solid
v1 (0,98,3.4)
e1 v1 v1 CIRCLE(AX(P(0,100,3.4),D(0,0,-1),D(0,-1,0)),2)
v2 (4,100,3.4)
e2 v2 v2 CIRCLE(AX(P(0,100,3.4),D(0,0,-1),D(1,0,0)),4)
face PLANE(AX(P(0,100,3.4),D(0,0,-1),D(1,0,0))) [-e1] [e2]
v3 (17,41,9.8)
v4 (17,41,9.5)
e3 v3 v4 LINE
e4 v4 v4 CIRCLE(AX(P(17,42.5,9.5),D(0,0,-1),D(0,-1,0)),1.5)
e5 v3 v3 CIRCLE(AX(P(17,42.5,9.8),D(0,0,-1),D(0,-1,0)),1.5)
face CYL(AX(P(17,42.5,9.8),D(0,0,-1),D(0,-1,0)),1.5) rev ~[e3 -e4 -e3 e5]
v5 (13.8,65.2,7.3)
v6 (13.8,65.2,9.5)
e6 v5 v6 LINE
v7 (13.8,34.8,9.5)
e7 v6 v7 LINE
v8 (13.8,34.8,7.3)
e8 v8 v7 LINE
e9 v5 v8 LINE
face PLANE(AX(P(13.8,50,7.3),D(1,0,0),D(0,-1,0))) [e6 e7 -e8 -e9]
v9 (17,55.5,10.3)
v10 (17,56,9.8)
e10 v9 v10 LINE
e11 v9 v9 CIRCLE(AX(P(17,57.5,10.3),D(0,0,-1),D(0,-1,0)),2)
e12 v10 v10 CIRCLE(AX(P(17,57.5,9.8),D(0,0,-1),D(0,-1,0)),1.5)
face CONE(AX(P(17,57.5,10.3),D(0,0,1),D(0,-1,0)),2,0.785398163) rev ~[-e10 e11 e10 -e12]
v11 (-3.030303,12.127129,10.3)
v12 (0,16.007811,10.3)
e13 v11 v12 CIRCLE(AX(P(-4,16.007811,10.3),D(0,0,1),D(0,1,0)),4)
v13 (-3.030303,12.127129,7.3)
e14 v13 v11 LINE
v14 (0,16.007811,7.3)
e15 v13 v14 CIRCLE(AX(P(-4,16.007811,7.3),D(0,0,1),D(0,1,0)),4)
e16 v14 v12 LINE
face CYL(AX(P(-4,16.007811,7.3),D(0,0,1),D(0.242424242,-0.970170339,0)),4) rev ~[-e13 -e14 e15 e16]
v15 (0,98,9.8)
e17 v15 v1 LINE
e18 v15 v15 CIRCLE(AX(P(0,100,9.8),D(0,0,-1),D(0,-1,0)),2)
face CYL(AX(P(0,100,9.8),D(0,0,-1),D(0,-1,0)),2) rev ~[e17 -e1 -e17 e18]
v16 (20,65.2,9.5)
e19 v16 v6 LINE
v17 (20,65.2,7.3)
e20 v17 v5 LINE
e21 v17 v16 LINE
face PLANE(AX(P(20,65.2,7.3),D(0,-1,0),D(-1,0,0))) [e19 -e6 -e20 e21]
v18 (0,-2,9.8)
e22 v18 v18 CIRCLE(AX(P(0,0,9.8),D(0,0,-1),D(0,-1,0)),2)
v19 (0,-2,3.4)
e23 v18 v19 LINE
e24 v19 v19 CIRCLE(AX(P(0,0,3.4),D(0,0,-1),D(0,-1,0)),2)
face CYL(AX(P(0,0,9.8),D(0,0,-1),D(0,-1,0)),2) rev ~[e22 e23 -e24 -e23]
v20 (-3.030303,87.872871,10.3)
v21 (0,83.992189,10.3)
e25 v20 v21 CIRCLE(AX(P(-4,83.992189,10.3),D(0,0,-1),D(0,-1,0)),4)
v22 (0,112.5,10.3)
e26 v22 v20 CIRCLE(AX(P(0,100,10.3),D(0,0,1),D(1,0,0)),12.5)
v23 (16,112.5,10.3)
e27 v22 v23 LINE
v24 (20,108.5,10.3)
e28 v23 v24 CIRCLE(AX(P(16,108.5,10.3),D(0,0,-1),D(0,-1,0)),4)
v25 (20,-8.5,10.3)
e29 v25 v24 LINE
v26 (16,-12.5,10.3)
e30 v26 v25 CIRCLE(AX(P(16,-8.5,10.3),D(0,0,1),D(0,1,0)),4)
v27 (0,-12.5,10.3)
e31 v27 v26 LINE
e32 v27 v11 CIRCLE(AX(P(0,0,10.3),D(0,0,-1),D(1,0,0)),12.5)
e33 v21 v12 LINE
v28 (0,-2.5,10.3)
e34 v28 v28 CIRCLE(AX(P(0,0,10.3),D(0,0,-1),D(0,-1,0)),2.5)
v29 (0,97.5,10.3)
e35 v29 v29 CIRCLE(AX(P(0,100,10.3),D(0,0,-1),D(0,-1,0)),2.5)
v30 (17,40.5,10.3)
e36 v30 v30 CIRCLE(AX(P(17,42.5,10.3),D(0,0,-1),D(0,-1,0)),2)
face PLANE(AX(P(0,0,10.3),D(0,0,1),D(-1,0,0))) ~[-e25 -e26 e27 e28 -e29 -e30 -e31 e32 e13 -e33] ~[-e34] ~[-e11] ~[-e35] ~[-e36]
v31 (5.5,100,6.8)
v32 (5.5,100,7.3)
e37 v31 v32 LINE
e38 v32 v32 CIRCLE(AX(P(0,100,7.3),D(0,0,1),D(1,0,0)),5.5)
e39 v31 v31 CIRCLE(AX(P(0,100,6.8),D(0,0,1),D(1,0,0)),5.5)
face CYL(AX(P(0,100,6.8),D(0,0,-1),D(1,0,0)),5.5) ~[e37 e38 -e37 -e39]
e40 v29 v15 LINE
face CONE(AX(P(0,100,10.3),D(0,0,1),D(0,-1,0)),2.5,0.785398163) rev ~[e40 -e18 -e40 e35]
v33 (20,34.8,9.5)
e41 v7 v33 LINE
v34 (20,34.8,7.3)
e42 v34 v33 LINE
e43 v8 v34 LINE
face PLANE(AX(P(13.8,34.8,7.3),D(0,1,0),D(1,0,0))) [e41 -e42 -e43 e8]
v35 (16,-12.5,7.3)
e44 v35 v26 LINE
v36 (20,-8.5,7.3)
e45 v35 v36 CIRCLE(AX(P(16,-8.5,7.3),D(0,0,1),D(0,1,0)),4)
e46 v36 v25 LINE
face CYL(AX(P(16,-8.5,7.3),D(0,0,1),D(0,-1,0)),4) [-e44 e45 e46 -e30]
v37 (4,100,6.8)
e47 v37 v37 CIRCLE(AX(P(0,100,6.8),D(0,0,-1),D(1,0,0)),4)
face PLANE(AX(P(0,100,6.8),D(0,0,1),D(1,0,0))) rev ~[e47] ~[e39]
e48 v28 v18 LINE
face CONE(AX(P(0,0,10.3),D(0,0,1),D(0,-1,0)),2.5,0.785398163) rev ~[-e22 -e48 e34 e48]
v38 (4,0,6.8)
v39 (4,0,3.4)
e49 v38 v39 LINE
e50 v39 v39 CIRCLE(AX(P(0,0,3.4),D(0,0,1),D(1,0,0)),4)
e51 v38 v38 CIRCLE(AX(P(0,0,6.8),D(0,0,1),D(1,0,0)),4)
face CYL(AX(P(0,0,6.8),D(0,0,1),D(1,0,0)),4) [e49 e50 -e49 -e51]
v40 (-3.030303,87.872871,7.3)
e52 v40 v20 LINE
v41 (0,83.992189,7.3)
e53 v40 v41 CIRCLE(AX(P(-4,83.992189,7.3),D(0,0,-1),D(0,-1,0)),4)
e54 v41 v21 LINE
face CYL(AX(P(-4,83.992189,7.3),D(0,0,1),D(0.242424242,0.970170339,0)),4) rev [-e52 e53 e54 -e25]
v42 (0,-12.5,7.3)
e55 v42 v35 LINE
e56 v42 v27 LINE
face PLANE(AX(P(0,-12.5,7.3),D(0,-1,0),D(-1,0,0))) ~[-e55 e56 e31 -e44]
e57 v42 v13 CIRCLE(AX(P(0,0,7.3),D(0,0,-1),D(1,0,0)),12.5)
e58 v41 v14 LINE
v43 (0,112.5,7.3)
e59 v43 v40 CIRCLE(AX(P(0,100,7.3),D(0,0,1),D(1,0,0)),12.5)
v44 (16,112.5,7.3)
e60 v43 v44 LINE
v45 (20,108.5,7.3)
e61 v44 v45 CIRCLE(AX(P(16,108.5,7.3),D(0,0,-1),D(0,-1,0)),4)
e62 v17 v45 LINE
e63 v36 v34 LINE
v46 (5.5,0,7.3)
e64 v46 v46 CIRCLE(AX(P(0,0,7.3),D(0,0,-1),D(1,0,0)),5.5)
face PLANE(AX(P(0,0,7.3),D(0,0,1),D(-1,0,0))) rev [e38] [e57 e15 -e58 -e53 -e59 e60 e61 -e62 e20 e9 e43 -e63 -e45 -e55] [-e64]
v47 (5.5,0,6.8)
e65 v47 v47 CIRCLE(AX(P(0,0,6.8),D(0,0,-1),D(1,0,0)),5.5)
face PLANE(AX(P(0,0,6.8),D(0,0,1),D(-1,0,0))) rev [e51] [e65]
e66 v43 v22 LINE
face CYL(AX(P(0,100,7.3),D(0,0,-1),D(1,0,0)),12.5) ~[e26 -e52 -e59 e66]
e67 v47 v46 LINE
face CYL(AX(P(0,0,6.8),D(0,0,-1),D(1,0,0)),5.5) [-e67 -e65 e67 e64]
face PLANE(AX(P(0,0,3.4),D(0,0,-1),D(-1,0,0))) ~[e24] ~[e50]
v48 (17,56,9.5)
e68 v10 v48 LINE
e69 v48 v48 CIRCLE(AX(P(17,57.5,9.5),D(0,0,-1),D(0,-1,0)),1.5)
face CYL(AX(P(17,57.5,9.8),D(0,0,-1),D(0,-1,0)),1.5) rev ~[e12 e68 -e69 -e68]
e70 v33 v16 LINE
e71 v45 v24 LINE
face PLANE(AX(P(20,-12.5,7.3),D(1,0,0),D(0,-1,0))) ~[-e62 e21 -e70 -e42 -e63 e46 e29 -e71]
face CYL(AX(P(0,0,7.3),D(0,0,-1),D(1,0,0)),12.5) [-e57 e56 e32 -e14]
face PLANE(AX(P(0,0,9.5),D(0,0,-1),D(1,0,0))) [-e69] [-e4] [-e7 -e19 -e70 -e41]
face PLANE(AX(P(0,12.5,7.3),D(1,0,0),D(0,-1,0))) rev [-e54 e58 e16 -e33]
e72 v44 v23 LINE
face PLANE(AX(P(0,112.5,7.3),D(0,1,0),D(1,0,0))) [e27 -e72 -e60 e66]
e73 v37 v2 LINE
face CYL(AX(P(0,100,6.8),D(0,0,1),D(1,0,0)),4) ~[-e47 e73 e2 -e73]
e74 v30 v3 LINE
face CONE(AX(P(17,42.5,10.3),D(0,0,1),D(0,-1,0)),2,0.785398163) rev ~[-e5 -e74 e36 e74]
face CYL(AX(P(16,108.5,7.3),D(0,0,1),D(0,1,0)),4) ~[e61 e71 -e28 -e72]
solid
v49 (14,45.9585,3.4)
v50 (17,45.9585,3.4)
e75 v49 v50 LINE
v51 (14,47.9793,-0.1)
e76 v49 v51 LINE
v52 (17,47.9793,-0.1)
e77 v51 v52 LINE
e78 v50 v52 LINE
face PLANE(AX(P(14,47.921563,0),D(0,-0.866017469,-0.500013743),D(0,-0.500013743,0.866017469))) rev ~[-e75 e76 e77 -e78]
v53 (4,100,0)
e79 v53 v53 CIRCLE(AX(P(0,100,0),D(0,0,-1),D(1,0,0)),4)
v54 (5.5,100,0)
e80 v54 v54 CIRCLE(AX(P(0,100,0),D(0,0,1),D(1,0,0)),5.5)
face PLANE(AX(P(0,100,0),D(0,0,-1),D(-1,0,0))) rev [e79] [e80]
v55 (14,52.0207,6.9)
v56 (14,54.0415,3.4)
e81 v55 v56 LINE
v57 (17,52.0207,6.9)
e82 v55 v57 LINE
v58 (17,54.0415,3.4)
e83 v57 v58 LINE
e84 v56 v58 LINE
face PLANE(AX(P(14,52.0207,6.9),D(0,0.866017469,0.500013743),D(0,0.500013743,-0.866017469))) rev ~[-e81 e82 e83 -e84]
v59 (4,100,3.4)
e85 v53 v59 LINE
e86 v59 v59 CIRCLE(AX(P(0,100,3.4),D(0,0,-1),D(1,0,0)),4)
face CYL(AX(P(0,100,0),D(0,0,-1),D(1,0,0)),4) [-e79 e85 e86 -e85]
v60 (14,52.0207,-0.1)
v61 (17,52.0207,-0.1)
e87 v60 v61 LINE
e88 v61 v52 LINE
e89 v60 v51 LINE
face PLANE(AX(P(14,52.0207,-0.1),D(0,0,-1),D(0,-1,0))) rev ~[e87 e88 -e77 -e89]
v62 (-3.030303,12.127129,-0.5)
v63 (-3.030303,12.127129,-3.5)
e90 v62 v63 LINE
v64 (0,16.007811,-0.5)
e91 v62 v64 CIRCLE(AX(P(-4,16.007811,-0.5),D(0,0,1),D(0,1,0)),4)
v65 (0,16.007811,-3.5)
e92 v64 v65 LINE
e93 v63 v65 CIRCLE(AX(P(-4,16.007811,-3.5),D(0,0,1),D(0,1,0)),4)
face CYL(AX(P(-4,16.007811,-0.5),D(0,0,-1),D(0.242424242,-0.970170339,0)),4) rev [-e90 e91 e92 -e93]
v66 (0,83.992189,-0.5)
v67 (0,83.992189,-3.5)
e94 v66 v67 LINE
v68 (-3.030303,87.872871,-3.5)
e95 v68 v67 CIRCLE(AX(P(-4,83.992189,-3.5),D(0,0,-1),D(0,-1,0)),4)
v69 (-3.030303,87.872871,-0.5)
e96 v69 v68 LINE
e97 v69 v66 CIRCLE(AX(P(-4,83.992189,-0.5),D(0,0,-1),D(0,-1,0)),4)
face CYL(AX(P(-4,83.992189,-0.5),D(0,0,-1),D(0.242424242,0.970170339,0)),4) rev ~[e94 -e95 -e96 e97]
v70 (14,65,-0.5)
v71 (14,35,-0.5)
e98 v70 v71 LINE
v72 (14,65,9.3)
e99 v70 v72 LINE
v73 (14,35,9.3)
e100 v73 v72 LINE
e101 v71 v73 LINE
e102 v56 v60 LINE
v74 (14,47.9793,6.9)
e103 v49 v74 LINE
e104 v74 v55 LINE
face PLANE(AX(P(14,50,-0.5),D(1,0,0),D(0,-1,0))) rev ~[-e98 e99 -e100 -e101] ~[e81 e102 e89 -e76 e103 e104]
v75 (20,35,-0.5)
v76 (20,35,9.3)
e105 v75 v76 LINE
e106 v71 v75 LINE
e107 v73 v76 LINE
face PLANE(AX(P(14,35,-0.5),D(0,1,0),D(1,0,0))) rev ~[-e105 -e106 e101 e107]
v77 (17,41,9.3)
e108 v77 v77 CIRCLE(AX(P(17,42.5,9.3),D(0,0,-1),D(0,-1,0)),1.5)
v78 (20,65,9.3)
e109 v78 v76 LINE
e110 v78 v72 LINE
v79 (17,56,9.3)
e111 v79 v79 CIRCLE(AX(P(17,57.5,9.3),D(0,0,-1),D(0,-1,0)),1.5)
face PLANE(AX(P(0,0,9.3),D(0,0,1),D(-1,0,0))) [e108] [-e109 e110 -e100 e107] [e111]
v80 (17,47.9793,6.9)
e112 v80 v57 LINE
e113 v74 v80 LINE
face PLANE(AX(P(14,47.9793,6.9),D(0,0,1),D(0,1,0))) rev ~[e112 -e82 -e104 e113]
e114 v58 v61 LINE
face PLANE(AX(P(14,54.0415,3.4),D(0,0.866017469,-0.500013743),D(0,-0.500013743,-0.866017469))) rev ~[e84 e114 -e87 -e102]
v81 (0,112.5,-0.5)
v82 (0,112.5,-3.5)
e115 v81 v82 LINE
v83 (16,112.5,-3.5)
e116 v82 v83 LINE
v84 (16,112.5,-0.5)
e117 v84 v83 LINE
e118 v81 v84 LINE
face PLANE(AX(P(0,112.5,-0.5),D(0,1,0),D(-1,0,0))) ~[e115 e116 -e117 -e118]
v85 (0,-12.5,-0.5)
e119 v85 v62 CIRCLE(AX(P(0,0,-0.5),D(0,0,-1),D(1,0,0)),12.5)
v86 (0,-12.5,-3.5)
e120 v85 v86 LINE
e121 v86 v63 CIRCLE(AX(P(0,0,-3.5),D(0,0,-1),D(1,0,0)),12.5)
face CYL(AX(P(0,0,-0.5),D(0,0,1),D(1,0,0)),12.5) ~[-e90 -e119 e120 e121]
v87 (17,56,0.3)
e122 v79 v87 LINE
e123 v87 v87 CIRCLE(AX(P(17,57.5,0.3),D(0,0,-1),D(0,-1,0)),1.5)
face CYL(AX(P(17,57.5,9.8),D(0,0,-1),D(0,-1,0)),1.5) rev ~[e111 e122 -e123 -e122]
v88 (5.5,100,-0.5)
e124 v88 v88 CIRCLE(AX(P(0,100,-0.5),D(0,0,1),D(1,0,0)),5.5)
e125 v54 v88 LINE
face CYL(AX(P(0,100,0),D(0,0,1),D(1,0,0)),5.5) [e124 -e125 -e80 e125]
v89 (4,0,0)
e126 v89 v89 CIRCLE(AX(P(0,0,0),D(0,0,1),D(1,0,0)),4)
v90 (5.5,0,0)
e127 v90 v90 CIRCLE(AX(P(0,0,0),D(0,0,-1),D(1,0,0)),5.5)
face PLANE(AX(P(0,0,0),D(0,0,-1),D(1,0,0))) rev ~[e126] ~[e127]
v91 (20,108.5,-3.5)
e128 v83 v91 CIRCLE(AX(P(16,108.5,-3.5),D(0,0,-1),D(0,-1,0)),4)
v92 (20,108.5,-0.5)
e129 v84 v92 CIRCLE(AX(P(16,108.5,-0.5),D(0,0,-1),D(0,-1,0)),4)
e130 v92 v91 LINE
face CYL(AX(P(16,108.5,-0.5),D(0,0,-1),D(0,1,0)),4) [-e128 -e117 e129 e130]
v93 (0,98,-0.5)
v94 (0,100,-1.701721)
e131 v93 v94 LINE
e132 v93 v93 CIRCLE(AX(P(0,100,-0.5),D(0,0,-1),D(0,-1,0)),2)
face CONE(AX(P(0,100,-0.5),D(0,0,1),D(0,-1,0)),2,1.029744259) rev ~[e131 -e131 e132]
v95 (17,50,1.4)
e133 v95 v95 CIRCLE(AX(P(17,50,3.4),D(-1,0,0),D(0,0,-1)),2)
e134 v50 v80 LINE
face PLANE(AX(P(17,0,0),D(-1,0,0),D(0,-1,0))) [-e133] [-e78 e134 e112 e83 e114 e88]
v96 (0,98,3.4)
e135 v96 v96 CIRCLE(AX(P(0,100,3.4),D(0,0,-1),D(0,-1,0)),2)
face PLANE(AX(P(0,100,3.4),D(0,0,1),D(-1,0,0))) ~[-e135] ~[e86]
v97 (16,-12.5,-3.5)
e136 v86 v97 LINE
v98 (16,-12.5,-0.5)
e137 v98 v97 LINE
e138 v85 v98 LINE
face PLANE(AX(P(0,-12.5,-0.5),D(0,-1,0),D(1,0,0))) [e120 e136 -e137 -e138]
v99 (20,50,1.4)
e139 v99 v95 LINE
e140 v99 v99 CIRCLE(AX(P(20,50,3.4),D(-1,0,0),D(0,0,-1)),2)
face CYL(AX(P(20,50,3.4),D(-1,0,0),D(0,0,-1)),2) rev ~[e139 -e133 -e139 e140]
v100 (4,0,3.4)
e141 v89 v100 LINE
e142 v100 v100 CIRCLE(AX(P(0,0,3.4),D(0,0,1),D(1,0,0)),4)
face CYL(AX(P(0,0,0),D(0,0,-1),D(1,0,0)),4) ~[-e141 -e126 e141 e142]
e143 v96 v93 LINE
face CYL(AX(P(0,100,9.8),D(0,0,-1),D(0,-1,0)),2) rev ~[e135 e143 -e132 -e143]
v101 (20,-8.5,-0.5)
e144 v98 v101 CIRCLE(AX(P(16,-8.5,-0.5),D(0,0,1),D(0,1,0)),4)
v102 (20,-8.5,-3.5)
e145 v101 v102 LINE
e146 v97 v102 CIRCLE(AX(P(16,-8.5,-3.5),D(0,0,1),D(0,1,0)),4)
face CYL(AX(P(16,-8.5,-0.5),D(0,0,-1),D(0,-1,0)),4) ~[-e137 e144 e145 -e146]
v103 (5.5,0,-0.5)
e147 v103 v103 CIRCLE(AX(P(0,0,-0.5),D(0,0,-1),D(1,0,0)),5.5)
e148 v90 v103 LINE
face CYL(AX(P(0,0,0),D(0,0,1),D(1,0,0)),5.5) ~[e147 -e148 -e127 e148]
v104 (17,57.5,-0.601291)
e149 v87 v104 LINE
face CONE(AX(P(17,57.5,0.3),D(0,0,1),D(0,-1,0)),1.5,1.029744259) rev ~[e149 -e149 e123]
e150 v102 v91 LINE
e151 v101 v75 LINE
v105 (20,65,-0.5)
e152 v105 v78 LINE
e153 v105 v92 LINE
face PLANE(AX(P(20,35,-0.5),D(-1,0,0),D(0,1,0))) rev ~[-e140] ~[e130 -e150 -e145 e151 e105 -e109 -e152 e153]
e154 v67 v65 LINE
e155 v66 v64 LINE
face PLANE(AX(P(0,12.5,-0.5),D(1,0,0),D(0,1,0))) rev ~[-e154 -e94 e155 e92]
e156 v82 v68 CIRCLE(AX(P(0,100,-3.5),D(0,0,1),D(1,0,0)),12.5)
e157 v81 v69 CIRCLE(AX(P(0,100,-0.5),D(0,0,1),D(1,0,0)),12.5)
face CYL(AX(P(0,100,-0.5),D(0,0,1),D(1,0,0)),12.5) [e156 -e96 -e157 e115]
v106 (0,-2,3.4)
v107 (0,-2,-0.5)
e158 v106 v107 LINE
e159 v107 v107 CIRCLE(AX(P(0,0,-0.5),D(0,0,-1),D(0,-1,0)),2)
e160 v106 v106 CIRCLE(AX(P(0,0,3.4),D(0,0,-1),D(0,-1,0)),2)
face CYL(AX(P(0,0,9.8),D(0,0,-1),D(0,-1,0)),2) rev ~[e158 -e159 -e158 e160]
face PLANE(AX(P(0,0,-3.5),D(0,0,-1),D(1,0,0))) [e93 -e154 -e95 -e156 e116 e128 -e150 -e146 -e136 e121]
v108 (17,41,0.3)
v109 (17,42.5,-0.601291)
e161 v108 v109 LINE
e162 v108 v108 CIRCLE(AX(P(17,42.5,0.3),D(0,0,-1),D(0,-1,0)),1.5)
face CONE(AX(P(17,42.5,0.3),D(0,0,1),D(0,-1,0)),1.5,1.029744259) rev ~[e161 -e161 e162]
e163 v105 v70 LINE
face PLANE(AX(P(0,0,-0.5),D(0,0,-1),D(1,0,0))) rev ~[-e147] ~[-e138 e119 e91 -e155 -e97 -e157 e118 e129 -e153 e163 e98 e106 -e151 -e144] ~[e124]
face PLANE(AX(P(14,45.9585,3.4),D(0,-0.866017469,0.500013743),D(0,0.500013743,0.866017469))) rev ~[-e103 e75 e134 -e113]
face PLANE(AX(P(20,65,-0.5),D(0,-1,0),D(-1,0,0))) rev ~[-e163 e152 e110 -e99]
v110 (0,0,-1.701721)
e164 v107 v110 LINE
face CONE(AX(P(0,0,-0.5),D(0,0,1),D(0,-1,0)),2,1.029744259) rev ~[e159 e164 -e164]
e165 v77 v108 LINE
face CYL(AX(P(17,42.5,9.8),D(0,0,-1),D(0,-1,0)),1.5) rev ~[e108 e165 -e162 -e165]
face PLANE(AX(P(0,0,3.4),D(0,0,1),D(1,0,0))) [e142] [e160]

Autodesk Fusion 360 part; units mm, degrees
sketch "Sketch1" plane through (0, 0, 0) normal (0, 0, 1) x (1, 0, 0)
  circle A0 centre (0, 0) radius 4
  dimension "d9" = 8
extrude "Extrude1" add sketch "Sketch1" along normal blind 3.4 makes body 1
sketch "Sketch2" plane through (0, 0, 0) normal (0, 0, -1) x (1, 0, 0)
  circle A0 centre (0, 0) radius 4
  circle A1 centre (0, 0) radius 5.5
  dimension "d12" = 11
extrude "Extrude2" add sketch "Sketch2" along normal blind 0.5 contours A0 | A1 bodies 1
sketch "Sketch3" plane through (0, 0, -0.5) normal (0, 0, -1) x (1, 0, 0)
  circle A0 centre (0, 0) radius 5.5
  circle A1 centre (0, 0) radius 12.5
  line L0 (0, 0) -> (0, -12.5)
  line L1 (0, 0) -> (0, 12.5)
  line L2 (0, 12.5) -> (20, 12.5)
  line L3 (20, 12.5) -> (20, 0)
  line L4 (0, 0) -> (0, -50)
  line L5 (20, 0) -> (20, -50)
  line L6 (20, -50) -> (0, -50)
  dimension "d17" = 25
  dimension "d18" = 20
  dimension "d19" = 12.5
  dimension "d20" = 50
  dimension "d21" = 50
extrude "Extrude3" add sketch "Sketch3" along normal blind 3 bodies 1
fillet "Fillet1" radius 4 1 edges at (20, -12.5, -2) on bodies 1
fillet "Fillet2" radius 4 1 edges at (0, 12.5, -2) on bodies 1
mirror "Mirror2" about plane through (20, 50, -0.5) normal (0, 1, 0) of bodies 1 merged
mirror "Mirror4" about plane through (0, 0, 3.4) normal (0, 0, 1) of bodies 1 makes body 2
sketch "Sketch6" plane through (0, 0, -0.5) normal (0, 0, 1) x (-1, 0, 0)
  circle A0 centre (0, -100) radius 5.5
  circle A1 centre (0, 0) radius 5.5
  arc A2 (-16, 12.5) -> (-20, 8.5) centre (-16, 8.5) ccw
  line L0 (-20, 8.5) -> (-20, -108.5)
  arc A3 (-20, -108.5) -> (-16, -112.5) centre (-16, -108.5) ccw
  line L1 (-16, -112.5) -> (0, -112.5)
  arc A4 (0, -112.5) -> (3.0303, -87.8729) centre (0, -100) ccw
  arc A5 (0, -83.9922) -> (3.0303, -87.8729) centre (4, -83.9922) ccw
  line L2 (0, -83.9922) -> (0, -16.0078)
  arc A6 (3.0303, -12.1271) -> (0, -16.0078) centre (4, -16.0078) ccw
  arc A7 (3.0303, -12.1271) -> (0, 12.5) centre (0, 0) ccw
  line L3 (0, 12.5) -> (-16, 12.5)
  line L4 (0, 0) -> (0, -50)
  line L5 (0, -50) -> (-20, -50)
  line L6 (-20, -50) -> (-20, -65)
  line L7 (-20, -65) -> (-14, -65)
  line L8 (-14, -65) -> (-14, -35)
  line L9 (-14, -35) -> (-20, -35)
  line L10 (-20, -35) -> (-20, -65)
  dimension "d48" = 50
  dimension "d49" = 20
  dimension "d50" = 15
  dimension "d51" = 6
  dimension "d52" = 30
extrude "Extrude5" add sketch "Sketch6" along normal blind 9.8 contours L0 L5 L8 L9 L10 | L0 L5 L6 L7 L8 L10 bodies 1
sketch "Sketch7" plane through (0, 0, 7.3) normal (0, 0, -1) x (1, 0, 0)
  circle A0 centre (0, -100) radius 5.5
  circle A1 centre (0, 0) radius 5.5
  arc A2 (20, 8.5) -> (16, 12.5) centre (16, 8.5) ccw
  line L0 (16, 12.5) -> (0, 12.5)
  arc A3 (0, 12.5) -> (-3.0303, -12.1271) centre (0, 0) ccw
  arc A4 (0, -16.0078) -> (-3.0303, -12.1271) centre (-4, -16.0078) ccw
  line L1 (0, -16.0078) -> (0, -83.9922)
  arc A5 (-3.0303, -87.8729) -> (0, -83.9922) centre (-4, -83.9922) ccw
  arc A6 (-3.0303, -87.8729) -> (0, -112.5) centre (0, -100) ccw
  line L2 (0, -112.5) -> (16, -112.5)
  arc A7 (16, -112.5) -> (20, -108.5) centre (16, -108.5) ccw
  line L3 (20, -108.5) -> (20, 8.5)
  line L4 (0, 0) -> (0, -50)
  line L5 (0, -50) -> (20, -50)
  line L6 (20, -50) -> (20, -65.2)
  line L7 (20, -65.2) -> (13.8, -65.2)
  line L8 (13.8, -65.2) -> (13.8, -34.8)
  line L9 (13.8, -34.8) -> (20, -34.8)
  line L10 (20, -34.8) -> (20, -65.2)
  dimension "d55" = 50
  dimension "d56" = 20
  dimension "d57" = 15.2
  dimension "d58" = 6.2
  dimension "d59" = 30.4
extrude "Extrude6" cut sketch "Sketch7" against normal blind 2.2 contours L3 L5 L8 L9 L10 | L3 L5 L6 L7 L8 L10 bodies 2
sketch "Sketch8" plane through (0, 0, 10.3) normal (0, 0, 1) x (-1, 0, 0)
  arc A0 (-16, 12.5) -> (-20, 8.5) centre (-16, 8.5) ccw
  line L0 (-20, 8.5) -> (-20, -108.5)
  arc A1 (-20, -108.5) -> (-16, -112.5) centre (-16, -108.5) ccw
  line L1 (-16, -112.5) -> (0, -112.5)
  arc A2 (0, -112.5) -> (3.0303, -87.8729) centre (0, -100) ccw
  arc A3 (0, -83.9922) -> (3.0303, -87.8729) centre (4, -83.9922) ccw
  line L2 (0, -83.9922) -> (0, -16.0078)
  arc A4 (3.0303, -12.1271) -> (0, -16.0078) centre (4, -16.0078) ccw
  arc A5 (3.0303, -12.1271) -> (0, 12.5) centre (0, 0) ccw
  line L3 (0, 12.5) -> (-16, 12.5)
  line L4 (0, 0) -> (-20, 0)
  line L5 (-20, 0) -> (-20, -50)
  line L6 (-20, -50) -> (-17, -50)
  line L7 (-17, -50) -> (-17, -42.5)
  line L8 (-17, -50) -> (-17, -57.5)
  dimension "d63" = 20
  dimension "d64" = 50
  dimension "d65" = 3
  dimension "d66" = 7.5
  dimension "d67" = 7.5
hole "Hole1" at (17, 42.5, 10.3) at (17, 57.5, 10.3) direction (0, 0, -1) diameter 3 depth 10 tip angle 118 countersink diameter 4 countersink angle 90 bodies 1 2
sketch "Sketch9" plane through (20, 0, 0) normal (1, 0, 0) x (0, 1, 0)
  line L0 (-8.5, -0.5) -> (-8.5, -3.5)
  line L1 (-8.5, -3.5) -> (108.5, -3.5)
  line L2 (108.5, -3.5) -> (108.5, -0.5)
  line L3 (108.5, -0.5) -> (65, -0.5)
  line L4 (65, -0.5) -> (65, 9.3)
  line L5 (65, 9.3) -> (35, 9.3)
  line L6 (35, 9.3) -> (35, -0.5)
  line L7 (35, -0.5) -> (-8.5, -0.5)
  line L8 (0, 0) -> (50, 0)
  line L9 (50, 0) -> (50, 3.4)
  dimension "d76" = 50
  dimension "d77" = 3.4
hole "Hole2" at (20, 50, 3.4) direction (-1, 0, 0) diameter 4 depth 10 tip angle 118 bodies 1
sketch "Sketch10" plane through (14, 0, 0) normal (-1, 0, 0) x (0, -1, 0)
  circle A0 centre (-50, 3.4) radius 2
  line L0 (-65, -0.5) -> (-35, -0.5)
  line L1 (-35, -0.5) -> (-35, 9.3)
  line L2 (-35, 9.3) -> (-65, 9.3)
  line L3 (-65, 9.3) -> (-65, -0.5)
  line L4 (0, 0) -> (-50, 0)
  line L5 (-50, 0) -> (-50, 3.4)
  line L6 (-52.0207, 6.9) -> (-54.0415, 3.4)
  line L7 (-54.0415, 3.4) -> (-52.0207, -0.1)
  line L8 (-52.0207, -0.1) -> (-47.9793, -0.1)
  line L9 (-47.9793, -0.1) -> (-45.9585, 3.4)
  line L10 (-45.9585, 3.4) -> (-47.9793, 6.9)
  line L11 (-47.9793, 6.9) -> (-52.0207, 6.9)
  point P0 (-50, 3.4)
  dimension "d86" = 50
  dimension "d87" = 3.4
  dimension "d88" = 3.5
extrude "Extrude7" cut sketch "Sketch10" against normal blind 3 contours L6 L7 L8 L9 L10 L11 bodies 1
sketch "Sketch19" plane through (0, 0, 0) normal (0, 0, 1) x (1, 0, 0)
  line L0 (0, 0) -> (0, 50)
  line L1 (0, 50) -> (14, 50)
  line L2 (14, 50) -> (-86, 50)
  circle A0 centre (-86, 50) radius 100
  dimension "d98" = 50
  dimension "d99" = 100
  dimension "d100" = 200
  dimension "d101" = 14
sketch "Sketch20" plane through (0, 0, 10.3) normal (0, 0, 1) x (-1, 0, 0)
  circle A0 centre (-17, -42.5) radius 2
  circle A1 centre (-17, -57.5) radius 2
  arc A2 (-16, 12.5) -> (-20, 8.5) centre (-16, 8.5) ccw
  line L0 (-20, 8.5) -> (-20, -108.5)
  arc A3 (-20, -108.5) -> (-16, -112.5) centre (-16, -108.5) ccw
  line L1 (-16, -112.5) -> (0, -112.5)
  arc A4 (0, -112.5) -> (3.0303, -87.8729) centre (0, -100) ccw
  arc A5 (0, -83.9922) -> (3.0303, -87.8729) centre (4, -83.9922) ccw
  line L2 (0, -83.9922) -> (0, -16.0078)
  arc A6 (3.0303, -12.1271) -> (0, -16.0078) centre (4, -16.0078) ccw
  arc A7 (3.0303, -12.1271) -> (0, 12.5) centre (0, 0) ccw
  line L3 (0, 12.5) -> (-16, 12.5)
  line L4 (0, 0) -> (0, -100)
  dimension "d102" = 100
hole "Hole3" at (0, 0, 10.3) at (0, 100, 10.3) direction (0, 0, -1) diameter 4 depth 10.8 tip angle 118 countersink diameter 5 countersink angle 90 bodies 1 2
equation "bearring_poke_diameter = 8 mm"
equation "bearring_spacer_diameter = 11 mm"
equation "bearring_poke_height = 3.4 mm"
equation "bearring_spacer_height = 0.5 mm"
equation "bearring_distance_between = 100 mm"
equation "bearring_distance_plane = 20 mm"
equation "plane_thickness = 3 mm"
equation "plane_screw_holes = 3 mm"
equation "d9 = bearring_poke_diameter"
equation "d10 = bearring_poke_height"
equation "d12 = bearring_spacer_diameter"
equation "d13 = bearring_spacer_height"
equation "plate_circle_diameter = 25 mm"
equation "plate_circle_fillet = 4 mm"
equation "d17 = plate_circle_diameter"
equation "d18 = bearring_distance_plane"
equation "d19 = plate_circle_diameter / 2"
equation "d20 = bearring_distance_between / 2"
equation "d21 = bearring_distance_between / 2"
equation "d22 = plane_thickness"
equation "d25 = plate_circle_fillet"
equation "d27 = plate_circle_fillet"
equation "screwplate_length = 40 mm"
equation "screwplate_width = 30 mm"
equation "screwplate_thickness = 6 mm"
equation "screwplate_height = ( bearring_spacer_height + bearring_poke_height ) * 2 + screwplate_height_insert"
equation "screwplate_height_insert = 2 mm"
equation "d48 = bearring_distance_between / 2"
equation "d49 = bearring_distance_plane"
equation "d50 = screwplate_width / 2"
equation "d51 = screwplate_thickness"
equation "d52 = screwplate_width"
equation "d53 = screwplate_height"
equation "d55 = bearring_distance_between / 2"
equation "d56 = bearring_distance_plane"
equation "d57 = screwplate_width / 2 + insert_clearence"
equation "d58 = screwplate_thickness + insert_clearence"
equation "d59 = screwplate_width + ( insert_clearence * 2 )"
equation "d60 = -screwplate_height_insert - insert_clearence"
equation "insert_clearence = 0.2 mm"
equation "d63 = bearring_distance_plane"
equation "d64 = bearring_distance_between / 2"
equation "d65 = screwplate_thickness / 2"
equation "d66 = screwplate_width / 4"
equation "d67 = screwplate_width / 4"
equation "d68 = screw_length"
equation "d69 = screw_size_M"
equation "screw_size_M = 3 mm"
equation "screw_length = 10 mm"
equation "screw_edge_size_M = 4 mm"
equation "d74 = screw_edge_size_M"
equation "d76 = bearring_distance_between / 2"
equation "d77 = bearring_poke_height"
equation "d78 = screw_attach_length"
equation "d79 = screw_attach_size_M"
equation "screw_attach_size_M = 4 mm"
equation "screw_attach_length = 10 mm"
equation "screw_attach_edge_size_M = 5 mm"
equation "d84 = screw_attach_edge_size_M"
equation "d87 = bearring_poke_height"
equation "d88 = screw_attach_nut_size"
equation "screw_attach_nut_size = ( 7 mm / 2 mm ) * 1 mm"
equation "screw_attach_nut_depth = 3 mm"
equation "d91 = -screw_attach_nut_depth"
equation "test_spool_diameter = 200 mm"
equation "d98 = bearring_distance_between / 2"
equation "d99 = test_spool_diameter / 2"
equation "d100 = test_spool_diameter"
equation "d101 = bearring_distance_plane - screwplate_thickness"
equation "d102 = bearring_distance_between"
equation "d103 = plane_thickness + ( bearring_poke_height * 2 ) + ( bearring_spacer_height * 2 )"
equation "d104 = screw_attach_size_M"
equation "d106 = screw_attach_edge_size_M"
